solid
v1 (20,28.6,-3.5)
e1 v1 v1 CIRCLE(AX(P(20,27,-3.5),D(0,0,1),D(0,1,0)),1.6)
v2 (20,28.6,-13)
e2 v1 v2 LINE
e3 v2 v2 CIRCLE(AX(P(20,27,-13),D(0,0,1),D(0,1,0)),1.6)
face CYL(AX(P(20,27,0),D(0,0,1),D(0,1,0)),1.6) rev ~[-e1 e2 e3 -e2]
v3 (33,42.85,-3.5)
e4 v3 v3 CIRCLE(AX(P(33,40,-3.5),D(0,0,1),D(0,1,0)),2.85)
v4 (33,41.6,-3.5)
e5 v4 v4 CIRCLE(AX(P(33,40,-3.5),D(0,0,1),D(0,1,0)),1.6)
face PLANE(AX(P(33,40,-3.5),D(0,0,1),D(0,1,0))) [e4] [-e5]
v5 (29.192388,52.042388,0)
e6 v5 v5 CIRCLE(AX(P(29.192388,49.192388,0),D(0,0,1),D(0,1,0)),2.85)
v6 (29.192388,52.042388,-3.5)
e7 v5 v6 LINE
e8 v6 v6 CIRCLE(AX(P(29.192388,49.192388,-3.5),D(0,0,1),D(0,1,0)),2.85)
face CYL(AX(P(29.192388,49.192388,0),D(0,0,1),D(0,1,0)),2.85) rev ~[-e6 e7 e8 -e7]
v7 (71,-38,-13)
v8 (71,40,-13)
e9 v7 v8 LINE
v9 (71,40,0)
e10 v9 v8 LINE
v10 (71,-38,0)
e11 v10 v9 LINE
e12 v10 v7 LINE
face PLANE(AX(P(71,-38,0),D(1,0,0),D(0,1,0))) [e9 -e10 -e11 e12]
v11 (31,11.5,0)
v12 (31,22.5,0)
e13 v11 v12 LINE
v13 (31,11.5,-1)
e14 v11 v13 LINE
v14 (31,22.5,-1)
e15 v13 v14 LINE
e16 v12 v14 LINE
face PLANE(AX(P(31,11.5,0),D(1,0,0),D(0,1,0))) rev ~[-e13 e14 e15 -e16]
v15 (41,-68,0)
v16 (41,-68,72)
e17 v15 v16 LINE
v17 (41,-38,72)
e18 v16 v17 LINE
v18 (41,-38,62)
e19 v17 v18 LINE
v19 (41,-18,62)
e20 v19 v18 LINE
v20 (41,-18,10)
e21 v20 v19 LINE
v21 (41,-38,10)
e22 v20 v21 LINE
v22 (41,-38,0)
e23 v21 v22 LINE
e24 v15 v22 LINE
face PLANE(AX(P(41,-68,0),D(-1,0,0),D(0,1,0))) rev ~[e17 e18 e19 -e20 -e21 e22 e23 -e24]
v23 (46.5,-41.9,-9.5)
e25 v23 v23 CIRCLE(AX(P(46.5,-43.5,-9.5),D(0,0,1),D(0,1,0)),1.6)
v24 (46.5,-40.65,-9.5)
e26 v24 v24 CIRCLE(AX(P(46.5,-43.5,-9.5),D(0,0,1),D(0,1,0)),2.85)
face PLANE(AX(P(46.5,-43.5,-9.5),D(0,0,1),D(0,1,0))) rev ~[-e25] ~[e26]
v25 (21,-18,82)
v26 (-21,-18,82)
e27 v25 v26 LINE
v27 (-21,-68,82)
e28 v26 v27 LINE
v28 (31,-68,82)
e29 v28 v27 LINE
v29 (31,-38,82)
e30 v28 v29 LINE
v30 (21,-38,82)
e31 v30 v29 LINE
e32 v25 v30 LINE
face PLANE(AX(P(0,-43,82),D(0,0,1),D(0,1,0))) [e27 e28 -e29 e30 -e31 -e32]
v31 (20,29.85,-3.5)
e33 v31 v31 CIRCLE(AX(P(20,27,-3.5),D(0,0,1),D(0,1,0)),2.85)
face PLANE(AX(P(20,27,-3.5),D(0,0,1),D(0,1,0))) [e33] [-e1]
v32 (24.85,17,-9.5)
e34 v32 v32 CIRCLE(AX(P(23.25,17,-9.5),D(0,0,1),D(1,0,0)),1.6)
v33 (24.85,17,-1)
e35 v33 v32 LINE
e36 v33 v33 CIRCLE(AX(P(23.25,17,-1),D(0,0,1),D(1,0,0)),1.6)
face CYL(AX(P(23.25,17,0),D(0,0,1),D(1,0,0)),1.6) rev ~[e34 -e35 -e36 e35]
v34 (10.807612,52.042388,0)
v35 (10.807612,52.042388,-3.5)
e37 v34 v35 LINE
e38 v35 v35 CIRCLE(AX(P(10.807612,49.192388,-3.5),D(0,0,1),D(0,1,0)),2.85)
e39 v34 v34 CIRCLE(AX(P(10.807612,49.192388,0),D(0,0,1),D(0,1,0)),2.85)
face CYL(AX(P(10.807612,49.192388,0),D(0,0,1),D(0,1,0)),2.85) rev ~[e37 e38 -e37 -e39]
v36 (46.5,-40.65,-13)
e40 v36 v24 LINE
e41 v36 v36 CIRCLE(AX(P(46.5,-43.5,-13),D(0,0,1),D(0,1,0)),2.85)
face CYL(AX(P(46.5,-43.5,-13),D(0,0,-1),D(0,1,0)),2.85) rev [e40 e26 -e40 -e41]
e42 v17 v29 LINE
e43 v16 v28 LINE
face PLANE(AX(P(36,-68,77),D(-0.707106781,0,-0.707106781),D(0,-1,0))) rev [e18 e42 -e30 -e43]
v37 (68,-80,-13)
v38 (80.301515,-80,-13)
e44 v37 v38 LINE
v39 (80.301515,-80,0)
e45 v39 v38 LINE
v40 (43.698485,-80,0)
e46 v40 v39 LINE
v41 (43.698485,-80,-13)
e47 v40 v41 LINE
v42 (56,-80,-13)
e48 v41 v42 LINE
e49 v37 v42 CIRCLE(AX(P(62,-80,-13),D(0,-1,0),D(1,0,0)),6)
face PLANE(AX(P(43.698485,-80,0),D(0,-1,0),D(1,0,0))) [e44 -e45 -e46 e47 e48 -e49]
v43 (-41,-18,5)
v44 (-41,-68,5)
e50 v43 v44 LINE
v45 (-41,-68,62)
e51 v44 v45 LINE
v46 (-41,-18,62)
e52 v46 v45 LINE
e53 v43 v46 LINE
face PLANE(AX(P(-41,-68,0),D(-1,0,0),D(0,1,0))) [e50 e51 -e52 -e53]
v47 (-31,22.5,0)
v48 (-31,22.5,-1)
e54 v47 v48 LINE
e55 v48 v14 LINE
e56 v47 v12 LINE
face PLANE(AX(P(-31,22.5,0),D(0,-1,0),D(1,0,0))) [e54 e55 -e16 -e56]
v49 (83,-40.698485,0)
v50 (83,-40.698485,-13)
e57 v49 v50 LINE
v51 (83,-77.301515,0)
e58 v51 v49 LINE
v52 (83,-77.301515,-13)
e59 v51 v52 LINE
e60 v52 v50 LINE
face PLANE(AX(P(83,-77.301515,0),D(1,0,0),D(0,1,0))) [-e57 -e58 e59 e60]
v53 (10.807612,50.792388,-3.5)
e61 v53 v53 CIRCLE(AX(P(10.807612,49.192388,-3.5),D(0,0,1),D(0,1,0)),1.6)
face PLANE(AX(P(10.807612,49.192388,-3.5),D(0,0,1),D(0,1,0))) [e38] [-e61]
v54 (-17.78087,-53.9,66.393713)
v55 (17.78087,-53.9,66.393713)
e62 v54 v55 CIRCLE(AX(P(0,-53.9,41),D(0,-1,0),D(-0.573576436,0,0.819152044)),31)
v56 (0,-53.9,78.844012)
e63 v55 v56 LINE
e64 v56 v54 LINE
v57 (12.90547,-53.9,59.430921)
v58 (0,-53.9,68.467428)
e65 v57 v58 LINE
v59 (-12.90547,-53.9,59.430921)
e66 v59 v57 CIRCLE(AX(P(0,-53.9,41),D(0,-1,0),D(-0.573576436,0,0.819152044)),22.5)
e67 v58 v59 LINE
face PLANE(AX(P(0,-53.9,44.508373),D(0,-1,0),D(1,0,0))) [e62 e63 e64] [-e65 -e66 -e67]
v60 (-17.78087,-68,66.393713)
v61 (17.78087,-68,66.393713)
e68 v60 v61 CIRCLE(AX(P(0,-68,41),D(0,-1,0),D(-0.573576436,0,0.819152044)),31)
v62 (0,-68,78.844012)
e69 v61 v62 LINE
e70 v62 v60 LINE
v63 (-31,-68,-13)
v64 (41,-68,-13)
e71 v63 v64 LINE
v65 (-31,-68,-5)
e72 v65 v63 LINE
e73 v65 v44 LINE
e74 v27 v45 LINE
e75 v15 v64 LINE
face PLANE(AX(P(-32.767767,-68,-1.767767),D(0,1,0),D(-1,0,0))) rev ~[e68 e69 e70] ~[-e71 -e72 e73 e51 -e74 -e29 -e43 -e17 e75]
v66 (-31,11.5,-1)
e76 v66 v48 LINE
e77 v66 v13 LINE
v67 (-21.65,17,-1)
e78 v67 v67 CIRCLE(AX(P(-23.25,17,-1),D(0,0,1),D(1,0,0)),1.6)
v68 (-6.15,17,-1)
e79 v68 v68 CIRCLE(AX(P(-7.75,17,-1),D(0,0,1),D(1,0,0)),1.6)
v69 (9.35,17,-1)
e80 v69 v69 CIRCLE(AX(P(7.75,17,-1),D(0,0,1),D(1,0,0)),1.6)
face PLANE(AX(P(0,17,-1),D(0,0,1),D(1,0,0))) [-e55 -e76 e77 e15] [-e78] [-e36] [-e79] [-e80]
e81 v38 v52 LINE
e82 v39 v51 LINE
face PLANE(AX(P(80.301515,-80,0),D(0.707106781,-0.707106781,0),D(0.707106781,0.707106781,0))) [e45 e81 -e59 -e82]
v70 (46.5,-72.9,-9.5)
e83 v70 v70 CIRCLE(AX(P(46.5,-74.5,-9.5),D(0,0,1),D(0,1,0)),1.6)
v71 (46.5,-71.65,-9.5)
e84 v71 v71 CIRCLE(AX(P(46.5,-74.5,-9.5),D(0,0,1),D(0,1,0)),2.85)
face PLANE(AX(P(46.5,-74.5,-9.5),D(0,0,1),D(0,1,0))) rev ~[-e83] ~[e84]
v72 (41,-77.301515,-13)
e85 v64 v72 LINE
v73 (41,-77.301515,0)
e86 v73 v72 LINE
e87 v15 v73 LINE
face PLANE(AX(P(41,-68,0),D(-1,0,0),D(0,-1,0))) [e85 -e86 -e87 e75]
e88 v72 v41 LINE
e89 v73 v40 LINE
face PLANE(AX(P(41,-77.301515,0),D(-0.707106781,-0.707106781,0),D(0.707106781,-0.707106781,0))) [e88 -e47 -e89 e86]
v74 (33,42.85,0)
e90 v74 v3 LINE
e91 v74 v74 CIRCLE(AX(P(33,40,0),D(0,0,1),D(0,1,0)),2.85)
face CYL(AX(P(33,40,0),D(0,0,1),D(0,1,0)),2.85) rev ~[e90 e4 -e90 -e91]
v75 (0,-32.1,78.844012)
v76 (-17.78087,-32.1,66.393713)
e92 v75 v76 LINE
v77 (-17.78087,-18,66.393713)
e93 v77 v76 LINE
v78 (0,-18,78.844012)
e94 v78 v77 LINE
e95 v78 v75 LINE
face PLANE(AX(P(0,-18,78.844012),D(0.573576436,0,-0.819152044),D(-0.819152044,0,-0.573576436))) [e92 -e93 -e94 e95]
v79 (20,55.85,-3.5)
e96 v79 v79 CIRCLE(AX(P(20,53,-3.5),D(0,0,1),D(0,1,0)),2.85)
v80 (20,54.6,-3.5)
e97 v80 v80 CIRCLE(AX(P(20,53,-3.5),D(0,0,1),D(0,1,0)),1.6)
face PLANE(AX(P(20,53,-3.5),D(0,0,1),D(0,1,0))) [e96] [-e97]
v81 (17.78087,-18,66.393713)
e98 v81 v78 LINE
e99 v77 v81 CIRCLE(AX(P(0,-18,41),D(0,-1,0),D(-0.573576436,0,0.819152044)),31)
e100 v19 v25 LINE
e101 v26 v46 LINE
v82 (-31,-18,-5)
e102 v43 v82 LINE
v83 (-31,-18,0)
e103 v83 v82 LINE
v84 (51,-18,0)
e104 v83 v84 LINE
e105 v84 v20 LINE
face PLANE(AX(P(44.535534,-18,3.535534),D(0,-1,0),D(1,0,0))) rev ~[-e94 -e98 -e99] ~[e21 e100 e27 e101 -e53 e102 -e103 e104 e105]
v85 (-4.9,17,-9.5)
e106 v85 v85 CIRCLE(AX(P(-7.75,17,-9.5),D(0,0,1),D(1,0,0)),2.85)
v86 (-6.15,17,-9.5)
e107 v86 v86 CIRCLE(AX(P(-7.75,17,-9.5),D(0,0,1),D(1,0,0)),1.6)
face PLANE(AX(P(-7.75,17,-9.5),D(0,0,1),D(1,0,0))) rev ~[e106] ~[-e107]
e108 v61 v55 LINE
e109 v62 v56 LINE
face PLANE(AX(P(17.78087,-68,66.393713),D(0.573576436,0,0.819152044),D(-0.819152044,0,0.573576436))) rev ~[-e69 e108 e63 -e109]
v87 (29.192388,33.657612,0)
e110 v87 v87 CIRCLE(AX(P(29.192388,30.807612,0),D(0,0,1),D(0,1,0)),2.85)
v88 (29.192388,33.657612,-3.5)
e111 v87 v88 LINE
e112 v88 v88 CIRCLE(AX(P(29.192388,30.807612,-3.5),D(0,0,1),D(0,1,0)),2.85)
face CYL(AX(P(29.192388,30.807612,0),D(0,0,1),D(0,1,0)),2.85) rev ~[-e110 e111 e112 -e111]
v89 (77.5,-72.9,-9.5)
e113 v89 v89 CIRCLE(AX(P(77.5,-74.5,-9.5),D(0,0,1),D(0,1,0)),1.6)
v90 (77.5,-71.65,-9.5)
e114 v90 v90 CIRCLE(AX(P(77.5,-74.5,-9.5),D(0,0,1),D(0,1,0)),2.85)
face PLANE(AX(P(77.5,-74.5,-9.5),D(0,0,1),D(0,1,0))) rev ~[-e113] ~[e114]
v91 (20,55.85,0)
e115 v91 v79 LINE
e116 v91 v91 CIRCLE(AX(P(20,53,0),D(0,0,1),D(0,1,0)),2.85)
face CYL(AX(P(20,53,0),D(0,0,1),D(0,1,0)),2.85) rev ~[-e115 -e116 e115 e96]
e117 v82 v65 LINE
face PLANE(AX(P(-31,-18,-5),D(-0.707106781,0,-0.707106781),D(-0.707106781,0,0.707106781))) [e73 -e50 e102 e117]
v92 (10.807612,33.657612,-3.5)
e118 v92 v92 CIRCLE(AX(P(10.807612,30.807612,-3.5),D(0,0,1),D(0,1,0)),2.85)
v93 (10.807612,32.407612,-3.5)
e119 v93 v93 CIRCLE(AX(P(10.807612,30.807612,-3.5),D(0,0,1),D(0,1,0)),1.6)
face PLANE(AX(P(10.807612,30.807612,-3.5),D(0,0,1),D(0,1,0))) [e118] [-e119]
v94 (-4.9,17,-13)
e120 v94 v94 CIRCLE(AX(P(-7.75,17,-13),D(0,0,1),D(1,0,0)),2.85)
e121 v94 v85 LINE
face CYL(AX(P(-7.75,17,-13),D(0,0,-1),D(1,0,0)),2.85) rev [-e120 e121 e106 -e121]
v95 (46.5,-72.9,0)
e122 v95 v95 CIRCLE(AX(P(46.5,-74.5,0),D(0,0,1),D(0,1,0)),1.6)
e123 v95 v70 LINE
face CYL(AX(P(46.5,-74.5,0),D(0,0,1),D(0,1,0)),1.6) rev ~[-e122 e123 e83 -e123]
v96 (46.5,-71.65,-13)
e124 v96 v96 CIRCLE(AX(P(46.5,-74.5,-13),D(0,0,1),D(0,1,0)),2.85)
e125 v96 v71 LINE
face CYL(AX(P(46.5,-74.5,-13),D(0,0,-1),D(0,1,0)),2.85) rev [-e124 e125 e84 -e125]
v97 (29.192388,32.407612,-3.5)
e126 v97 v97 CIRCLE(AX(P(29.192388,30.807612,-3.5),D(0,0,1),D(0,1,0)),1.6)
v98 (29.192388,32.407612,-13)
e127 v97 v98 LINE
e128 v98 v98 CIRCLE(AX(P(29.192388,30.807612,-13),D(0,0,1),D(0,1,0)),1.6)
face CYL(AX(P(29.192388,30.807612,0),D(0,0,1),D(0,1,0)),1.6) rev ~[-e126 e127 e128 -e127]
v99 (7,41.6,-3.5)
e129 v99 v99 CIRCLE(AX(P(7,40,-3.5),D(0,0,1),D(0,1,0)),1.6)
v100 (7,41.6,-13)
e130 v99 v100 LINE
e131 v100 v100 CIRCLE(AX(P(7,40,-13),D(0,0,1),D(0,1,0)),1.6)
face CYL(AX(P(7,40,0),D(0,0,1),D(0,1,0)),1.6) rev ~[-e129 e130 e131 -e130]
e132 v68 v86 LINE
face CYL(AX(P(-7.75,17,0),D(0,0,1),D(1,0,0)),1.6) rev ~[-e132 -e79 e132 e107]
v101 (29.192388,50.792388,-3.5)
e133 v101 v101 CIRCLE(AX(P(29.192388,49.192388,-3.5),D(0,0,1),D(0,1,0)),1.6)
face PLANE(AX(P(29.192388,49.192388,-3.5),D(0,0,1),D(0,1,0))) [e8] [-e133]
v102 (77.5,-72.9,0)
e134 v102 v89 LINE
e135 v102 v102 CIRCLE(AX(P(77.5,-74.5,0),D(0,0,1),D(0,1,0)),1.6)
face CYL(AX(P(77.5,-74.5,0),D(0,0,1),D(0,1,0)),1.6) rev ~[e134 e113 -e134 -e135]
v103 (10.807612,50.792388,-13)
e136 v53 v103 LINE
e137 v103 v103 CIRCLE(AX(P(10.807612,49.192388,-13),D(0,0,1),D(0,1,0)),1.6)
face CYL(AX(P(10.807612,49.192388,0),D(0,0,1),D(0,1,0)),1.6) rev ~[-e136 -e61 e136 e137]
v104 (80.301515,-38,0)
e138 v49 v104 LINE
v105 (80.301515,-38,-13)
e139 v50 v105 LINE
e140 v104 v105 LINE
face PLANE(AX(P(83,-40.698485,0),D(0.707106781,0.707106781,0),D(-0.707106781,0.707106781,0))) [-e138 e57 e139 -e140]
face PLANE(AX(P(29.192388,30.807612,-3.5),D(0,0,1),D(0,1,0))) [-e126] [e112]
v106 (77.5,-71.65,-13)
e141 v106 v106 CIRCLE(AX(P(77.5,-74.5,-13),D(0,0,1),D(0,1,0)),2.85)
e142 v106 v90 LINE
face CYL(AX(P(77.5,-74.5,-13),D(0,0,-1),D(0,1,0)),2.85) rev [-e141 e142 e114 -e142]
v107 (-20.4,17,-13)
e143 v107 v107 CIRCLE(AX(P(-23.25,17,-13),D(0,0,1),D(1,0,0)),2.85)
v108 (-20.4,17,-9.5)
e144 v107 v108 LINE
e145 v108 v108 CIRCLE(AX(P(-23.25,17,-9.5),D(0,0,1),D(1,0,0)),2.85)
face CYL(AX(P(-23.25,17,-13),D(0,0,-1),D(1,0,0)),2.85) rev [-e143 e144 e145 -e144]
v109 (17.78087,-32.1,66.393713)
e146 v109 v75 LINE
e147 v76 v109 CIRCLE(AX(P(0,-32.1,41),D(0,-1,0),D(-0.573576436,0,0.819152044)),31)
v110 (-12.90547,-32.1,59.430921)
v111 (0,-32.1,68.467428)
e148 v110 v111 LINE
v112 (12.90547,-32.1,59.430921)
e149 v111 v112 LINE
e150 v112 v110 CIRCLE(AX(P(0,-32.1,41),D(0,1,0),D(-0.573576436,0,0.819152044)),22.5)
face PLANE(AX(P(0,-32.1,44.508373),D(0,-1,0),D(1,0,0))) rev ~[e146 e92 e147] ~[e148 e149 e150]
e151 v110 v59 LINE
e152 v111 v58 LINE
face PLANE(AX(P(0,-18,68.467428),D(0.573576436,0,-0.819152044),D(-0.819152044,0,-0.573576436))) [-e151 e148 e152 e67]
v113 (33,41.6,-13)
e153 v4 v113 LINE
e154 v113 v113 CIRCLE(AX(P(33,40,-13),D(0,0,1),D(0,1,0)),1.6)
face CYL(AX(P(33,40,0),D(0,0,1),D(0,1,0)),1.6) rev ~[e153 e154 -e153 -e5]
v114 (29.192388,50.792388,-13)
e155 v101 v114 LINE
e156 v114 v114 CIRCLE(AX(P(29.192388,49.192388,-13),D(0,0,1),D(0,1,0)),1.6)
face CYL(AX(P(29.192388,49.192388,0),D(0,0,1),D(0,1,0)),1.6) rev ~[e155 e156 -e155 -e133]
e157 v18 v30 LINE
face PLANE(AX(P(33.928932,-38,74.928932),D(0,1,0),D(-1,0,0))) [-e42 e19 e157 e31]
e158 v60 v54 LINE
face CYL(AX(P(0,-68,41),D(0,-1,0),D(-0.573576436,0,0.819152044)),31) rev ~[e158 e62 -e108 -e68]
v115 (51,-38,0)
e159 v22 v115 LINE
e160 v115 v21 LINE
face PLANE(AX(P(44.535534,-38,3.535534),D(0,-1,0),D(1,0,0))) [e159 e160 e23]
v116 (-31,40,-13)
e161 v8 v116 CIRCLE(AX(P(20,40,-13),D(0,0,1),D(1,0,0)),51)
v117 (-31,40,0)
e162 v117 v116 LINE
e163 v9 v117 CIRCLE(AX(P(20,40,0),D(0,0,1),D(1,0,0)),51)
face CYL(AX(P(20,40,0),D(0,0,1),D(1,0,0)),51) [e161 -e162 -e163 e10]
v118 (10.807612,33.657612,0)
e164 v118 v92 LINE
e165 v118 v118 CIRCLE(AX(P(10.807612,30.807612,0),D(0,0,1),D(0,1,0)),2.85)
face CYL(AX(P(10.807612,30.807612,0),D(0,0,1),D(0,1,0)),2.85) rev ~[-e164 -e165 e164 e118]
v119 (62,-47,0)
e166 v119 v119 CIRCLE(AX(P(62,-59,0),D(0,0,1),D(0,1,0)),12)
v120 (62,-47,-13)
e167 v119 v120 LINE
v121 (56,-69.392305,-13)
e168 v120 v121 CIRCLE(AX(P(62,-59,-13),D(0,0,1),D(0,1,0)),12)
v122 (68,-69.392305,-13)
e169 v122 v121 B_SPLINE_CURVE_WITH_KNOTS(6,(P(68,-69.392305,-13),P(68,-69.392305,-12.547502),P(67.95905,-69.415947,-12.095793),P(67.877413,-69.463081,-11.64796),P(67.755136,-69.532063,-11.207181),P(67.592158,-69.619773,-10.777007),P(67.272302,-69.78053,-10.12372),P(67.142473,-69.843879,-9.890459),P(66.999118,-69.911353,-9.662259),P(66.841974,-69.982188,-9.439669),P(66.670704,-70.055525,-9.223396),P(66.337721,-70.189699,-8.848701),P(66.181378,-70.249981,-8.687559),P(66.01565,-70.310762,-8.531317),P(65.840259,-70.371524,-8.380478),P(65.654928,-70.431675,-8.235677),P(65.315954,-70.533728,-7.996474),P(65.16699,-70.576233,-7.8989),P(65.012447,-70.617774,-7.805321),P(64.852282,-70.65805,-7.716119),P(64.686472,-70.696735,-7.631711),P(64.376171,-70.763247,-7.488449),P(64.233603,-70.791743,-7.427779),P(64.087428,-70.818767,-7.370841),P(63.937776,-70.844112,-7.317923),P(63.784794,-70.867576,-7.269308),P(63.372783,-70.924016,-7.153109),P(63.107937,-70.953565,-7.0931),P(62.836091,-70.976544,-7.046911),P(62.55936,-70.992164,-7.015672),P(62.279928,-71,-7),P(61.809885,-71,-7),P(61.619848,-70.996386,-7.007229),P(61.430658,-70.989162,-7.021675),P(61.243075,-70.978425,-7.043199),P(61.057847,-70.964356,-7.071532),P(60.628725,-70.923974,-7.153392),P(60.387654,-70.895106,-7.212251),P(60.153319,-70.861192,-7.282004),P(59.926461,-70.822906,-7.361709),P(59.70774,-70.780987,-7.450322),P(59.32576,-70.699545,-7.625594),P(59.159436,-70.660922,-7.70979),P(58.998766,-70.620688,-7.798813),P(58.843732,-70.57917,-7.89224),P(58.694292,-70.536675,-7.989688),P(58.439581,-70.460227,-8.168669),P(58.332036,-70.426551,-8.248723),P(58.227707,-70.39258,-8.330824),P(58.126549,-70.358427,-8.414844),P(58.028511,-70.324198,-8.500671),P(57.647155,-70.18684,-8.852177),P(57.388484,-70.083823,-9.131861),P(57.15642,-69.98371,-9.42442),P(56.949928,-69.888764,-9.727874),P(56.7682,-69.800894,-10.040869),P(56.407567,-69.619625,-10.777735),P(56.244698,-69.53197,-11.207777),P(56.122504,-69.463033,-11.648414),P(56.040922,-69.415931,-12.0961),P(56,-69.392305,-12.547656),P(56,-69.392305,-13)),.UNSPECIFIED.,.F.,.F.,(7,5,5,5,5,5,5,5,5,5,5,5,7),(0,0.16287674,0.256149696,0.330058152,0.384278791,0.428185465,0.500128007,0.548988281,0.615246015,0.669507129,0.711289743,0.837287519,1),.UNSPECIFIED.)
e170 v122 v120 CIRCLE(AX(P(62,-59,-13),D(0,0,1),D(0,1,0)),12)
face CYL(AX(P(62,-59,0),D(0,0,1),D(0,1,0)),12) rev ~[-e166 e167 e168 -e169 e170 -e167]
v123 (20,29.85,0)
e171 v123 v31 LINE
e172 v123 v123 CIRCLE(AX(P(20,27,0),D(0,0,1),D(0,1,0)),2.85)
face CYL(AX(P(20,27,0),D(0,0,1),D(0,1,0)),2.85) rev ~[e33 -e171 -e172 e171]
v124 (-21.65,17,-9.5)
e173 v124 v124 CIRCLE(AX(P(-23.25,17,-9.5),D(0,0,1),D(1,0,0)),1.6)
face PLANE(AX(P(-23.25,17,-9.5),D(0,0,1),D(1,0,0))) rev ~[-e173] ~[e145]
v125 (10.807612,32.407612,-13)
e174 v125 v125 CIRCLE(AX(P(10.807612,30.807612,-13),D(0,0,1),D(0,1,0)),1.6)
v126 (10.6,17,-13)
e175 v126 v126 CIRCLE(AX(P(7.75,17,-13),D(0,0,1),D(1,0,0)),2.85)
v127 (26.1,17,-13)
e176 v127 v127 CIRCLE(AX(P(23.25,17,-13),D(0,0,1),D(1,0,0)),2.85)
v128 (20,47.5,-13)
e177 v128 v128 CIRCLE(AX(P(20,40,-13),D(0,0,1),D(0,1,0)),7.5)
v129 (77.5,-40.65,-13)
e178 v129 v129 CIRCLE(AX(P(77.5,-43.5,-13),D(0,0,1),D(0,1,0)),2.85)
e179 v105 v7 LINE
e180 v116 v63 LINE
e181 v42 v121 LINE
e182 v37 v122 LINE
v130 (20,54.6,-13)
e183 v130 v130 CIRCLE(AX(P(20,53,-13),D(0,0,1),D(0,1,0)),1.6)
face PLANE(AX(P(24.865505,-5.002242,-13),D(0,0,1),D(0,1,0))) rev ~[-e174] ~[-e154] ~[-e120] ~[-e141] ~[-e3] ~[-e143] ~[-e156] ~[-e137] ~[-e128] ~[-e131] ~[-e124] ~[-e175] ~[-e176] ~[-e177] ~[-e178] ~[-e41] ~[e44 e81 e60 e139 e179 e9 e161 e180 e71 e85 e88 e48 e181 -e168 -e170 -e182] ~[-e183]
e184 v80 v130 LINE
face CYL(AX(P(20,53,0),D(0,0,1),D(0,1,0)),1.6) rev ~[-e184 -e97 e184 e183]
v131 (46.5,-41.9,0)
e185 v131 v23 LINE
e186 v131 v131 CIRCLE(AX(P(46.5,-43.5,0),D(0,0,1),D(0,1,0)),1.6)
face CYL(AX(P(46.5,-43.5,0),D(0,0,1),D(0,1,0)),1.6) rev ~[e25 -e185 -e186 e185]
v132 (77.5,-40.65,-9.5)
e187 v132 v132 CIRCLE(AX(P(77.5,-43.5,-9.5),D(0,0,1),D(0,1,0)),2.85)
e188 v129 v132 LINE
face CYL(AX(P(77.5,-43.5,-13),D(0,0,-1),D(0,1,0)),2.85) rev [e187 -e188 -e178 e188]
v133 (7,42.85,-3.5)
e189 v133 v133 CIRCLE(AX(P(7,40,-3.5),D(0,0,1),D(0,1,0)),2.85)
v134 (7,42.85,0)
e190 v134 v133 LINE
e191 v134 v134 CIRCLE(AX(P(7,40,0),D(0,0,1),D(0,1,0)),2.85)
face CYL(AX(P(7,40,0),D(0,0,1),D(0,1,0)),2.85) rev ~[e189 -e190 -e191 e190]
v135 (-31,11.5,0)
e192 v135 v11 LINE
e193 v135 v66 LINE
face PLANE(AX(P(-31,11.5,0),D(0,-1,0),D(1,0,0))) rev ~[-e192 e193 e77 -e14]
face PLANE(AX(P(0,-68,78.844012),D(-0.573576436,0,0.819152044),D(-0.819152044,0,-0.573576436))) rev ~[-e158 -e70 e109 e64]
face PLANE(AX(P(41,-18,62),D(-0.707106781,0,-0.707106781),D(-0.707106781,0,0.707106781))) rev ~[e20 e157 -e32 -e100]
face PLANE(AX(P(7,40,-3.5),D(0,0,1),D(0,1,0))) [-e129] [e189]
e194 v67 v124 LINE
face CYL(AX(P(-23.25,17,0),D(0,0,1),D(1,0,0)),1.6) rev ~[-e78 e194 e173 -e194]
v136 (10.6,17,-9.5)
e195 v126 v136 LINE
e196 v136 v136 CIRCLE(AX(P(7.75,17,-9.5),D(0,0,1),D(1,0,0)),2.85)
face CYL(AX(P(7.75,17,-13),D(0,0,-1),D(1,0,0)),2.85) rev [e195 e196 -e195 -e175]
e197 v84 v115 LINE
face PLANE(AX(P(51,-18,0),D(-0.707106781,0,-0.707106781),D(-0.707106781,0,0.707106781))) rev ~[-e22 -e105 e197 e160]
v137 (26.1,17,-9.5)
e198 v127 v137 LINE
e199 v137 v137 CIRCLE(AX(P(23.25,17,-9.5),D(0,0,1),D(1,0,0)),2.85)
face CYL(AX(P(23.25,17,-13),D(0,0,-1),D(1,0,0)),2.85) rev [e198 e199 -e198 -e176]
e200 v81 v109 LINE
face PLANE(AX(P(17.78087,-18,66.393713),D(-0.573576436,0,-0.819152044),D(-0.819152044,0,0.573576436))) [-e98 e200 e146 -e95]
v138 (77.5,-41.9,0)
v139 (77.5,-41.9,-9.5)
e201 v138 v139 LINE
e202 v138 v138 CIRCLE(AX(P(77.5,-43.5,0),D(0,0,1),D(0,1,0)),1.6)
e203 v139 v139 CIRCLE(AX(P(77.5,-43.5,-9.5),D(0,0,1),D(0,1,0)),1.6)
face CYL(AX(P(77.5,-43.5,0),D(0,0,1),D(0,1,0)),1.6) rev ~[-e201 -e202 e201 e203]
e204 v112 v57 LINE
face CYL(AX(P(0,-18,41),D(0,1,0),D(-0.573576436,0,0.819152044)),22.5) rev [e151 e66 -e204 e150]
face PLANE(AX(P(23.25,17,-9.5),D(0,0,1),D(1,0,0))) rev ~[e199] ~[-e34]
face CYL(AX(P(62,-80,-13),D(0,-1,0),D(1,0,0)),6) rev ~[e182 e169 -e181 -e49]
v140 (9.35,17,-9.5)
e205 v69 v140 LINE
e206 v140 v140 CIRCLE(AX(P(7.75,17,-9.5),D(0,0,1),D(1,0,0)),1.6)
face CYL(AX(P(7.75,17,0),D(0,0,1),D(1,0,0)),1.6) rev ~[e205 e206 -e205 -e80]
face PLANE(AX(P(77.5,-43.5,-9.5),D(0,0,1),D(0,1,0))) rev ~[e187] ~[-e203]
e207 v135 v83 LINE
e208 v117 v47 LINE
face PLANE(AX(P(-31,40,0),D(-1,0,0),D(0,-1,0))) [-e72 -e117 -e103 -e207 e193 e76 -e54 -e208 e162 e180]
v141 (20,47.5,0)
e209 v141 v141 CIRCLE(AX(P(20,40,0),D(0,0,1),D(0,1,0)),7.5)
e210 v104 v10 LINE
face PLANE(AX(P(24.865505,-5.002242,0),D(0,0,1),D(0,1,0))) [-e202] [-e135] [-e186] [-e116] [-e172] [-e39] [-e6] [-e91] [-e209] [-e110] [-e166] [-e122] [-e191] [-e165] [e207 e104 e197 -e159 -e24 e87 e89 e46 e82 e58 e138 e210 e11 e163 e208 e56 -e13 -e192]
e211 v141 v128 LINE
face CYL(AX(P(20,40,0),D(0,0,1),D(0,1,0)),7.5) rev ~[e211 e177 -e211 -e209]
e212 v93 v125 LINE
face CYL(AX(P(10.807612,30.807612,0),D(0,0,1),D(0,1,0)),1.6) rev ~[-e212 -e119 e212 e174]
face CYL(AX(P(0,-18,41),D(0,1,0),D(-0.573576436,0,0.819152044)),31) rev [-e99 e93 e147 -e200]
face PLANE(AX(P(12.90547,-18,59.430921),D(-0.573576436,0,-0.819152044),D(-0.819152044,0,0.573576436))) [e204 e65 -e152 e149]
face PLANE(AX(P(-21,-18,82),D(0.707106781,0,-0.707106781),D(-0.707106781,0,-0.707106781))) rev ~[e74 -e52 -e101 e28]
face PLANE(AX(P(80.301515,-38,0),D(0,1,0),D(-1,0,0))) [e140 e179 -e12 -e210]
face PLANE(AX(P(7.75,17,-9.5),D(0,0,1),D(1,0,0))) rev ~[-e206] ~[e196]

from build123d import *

# Parameters (mm, degrees)
SKETCH1_R               = 12
SKETCH1_R_2             = 7.5
SKETCH1_R_3             = 1.6
BOSS_EXTRUDE2_DEPTH     = 13
SKETCH1_6_W             = 50
SKETCH1_6_H             = 82
BOSS_EXTRUDE3_DEPTH     = 82
SKETCH1_5_R             = 2.85
CUT_EXTRUDE2_DEPTH      = 3.5
CUT_EXTRUDE3_DEPTH      = 14.1
CUT_EXTRUDE4_START      = -50
CUT_EXTRUDE4_DEPTH      = 14.1
CUT_EXTRUDE5_DEPTH      = 110
CUT_EXTRUDE5_DEPTH_BACK = 63
SKETCH3_W               = 62
SKETCH3_H               = 11
CUT_EXTRUDE6_DEPTH      = 1
SKETCH3_3_R             = 1.6
CUT_EXTRUDE7_DEPTH      = 14
CUT_EXTRUDE8_START      = -13
SKETCH3_5_R             = 2.85
CUT_EXTRUDE8_DEPTH      = 3.5
CUT_EXTRUDE9_START      = -13
SKETCH1_7_R             = 2.85
CUT_EXTRUDE9_DEPTH      = 3.5
CUT_EXTRUDE10_DEPTH     = 12.5
BOSS_EXTRUDE4_DEPTH     = 50
CUT_EXTRUDE11_DEPTH     = 50.5
BOSS_EXTRUDE5_DEPTH     = 20
CUT_EXTRUDE12_DEPTH     = 20
CHAMFER6_SIZE           = 10


with BuildPart() as part:
    # Sketch1 → Boss-Extrude2 (new body)
    with BuildSketch(Plane(origin=(0, 0, 0), x_dir=(0, 1, 0), z_dir=(0, 0, 1))):
        with BuildLine():
            Line((-68, -41), (-77.30151519, -41))
            Line((-77.30151519, -41), (-80, -43.69848481))
            Line((-80, -43.69848481), (-80, -80.30151519))
            Line((-80, -80.30151519), (-77.30151519, -83))
            Line((-77.30151519, -83), (-40.69848481, -83))
            Line((-40.69848481, -83), (-38, -80.30151519))
            Line((-38, -80.30151519), (-38, -71))
            Line((-38, -71), (40, -71))
            ThreePointArc((40, -71), (91, -20), (40, 31))
            Line((40, 31), (-68, 31))
            Line((-68, 31), (-68, -41))
        make_face()
        with Locations((-59, -62)):
            Circle(SKETCH1_R, mode=Mode.SUBTRACT)
        with Locations((40, -20)):
            Circle(SKETCH1_R_2, mode=Mode.SUBTRACT)
        with Locations((40, -7)):
            Circle(SKETCH1_R_3, mode=Mode.SUBTRACT)
        with Locations((49.192388155, -10.807611845)):
            Circle(SKETCH1_R_3, mode=Mode.SUBTRACT)
        with Locations((53, -20)):
            Circle(SKETCH1_R_3, mode=Mode.SUBTRACT)
        with Locations((49.192388155, -29.192388155)):
            Circle(SKETCH1_R_3, mode=Mode.SUBTRACT)
        with Locations((40, -33)):
            Circle(SKETCH1_R_3, mode=Mode.SUBTRACT)
        with Locations((30.807611845, -29.192388155)):
            Circle(SKETCH1_R_3, mode=Mode.SUBTRACT)
        with Locations((27, -20)):
            Circle(SKETCH1_R_3, mode=Mode.SUBTRACT)
        with Locations((30.807611845, -10.807611845)):
            Circle(SKETCH1_R_3, mode=Mode.SUBTRACT)
        with Locations((-74.5, -46.5)):
            Circle(SKETCH1_R_3, mode=Mode.SUBTRACT)
        with Locations((-43.5, -46.5)):
            Circle(SKETCH1_R_3, mode=Mode.SUBTRACT)
        with Locations((-43.5, -77.5)):
            Circle(SKETCH1_R_3, mode=Mode.SUBTRACT)
        with Locations((-74.5, -77.5)):
            Circle(SKETCH1_R_3, mode=Mode.SUBTRACT)
    extrude(amount=-BOSS_EXTRUDE2_DEPTH)

    # Sketch1<6> → Boss-Extrude3 (add)
    with BuildSketch(Plane(origin=(0, 0, 0), x_dir=(0, 1, 0), z_dir=(0, 0, 1))):
        with Locations((-43, 0)):
            Rectangle(SKETCH1_6_W, SKETCH1_6_H)
    extrude(amount=BOSS_EXTRUDE3_DEPTH)

    # Sketch1<5> → Cut-Extrude2 (cut)
    with BuildSketch(Plane(origin=(0, 0, 0), x_dir=(0, 1, 0), z_dir=(0, 0, 1))):
        with Locations((40, -7)):
            Circle(SKETCH1_5_R)
        with Locations((49.192388155, -10.807611845)):
            Circle(SKETCH1_5_R)
        with Locations((53, -20)):
            Circle(SKETCH1_5_R)
        with Locations((49.192388155, -29.192388155)):
            Circle(SKETCH1_5_R)
        with Locations((40, -33)):
            Circle(SKETCH1_5_R)
        with Locations((30.807611845, -29.192388155)):
            Circle(SKETCH1_5_R)
        with Locations((27, -20)):
            Circle(SKETCH1_5_R)
        with Locations((30.807611845, -10.807611845)):
            Circle(SKETCH1_5_R)
    extrude(amount=-CUT_EXTRUDE2_DEPTH, mode=Mode.SUBTRACT)

    # Sketch2 → Cut-Extrude3 (cut)
    with BuildSketch(Plane(origin=(0, -18, 0), x_dir=(-1, 0, 0), z_dir=(0, 1, 0))):
        with BuildLine():
            Line((-17.780869527, 66.393713373), (0, 78.844012252))
            Line((0, 78.844012252), (17.780869527, 66.393713373))
            ThreePointArc((17.780869527, 66.393713373), (0, 10), (-17.780869527, 66.393713373))
        make_face()
    extrude(amount=-CUT_EXTRUDE3_DEPTH, mode=Mode.SUBTRACT)

    # Sketch2<3> → Cut-Extrude4 (cut)
    with BuildSketch(Plane(origin=(0, -18, 0), x_dir=(-1, 0, 0), z_dir=(0, 1, 0)).offset(CUT_EXTRUDE4_START)):
        with BuildLine():
            Line((-17.780869527, 66.393713373), (0, 78.844012252))
            Line((0, 78.844012252), (17.780869527, 66.393713373))
            ThreePointArc((17.780869527, 66.393713373), (0, 10), (-17.780869527, 66.393713373))
        make_face()
        with BuildLine():
            Line((-12.905469818, 59.430920997), (0, 68.467428247))
            Line((0, 68.467428247), (12.905469818, 59.430920997))
            ThreePointArc((12.905469818, 59.430920997), (0, 18.5), (-12.905469818, 59.430920997))
        make_face(mode=Mode.SUBTRACT)
    extrude(amount=CUT_EXTRUDE4_DEPTH, mode=Mode.SUBTRACT)

    # Sketch2<4> → Cut-Extrude5 (cut, two sides)
    with BuildSketch(Plane(origin=(0, -18, 0), x_dir=(-1, 0, 0), z_dir=(0, 1, 0))) as cut_extrude5_sk:
        with BuildLine():
            Line((-12.905469818, 59.430920997), (0, 68.467428247))
            Line((0, 68.467428247), (12.905469818, 59.430920997))
            ThreePointArc((12.905469818, 59.430920997), (0, 18.5), (-12.905469818, 59.430920997))
        make_face()
    extrude(amount=CUT_EXTRUDE5_DEPTH, mode=Mode.SUBTRACT)
    extrude(cut_extrude5_sk.sketch, amount=-CUT_EXTRUDE5_DEPTH_BACK, mode=Mode.SUBTRACT)

    # Sketch3 → Cut-Extrude6 (cut)
    with BuildSketch(Plane.XY):
        with Locations((0, 17)):
            Rectangle(SKETCH3_W, SKETCH3_H)
    extrude(amount=-CUT_EXTRUDE6_DEPTH, mode=Mode.SUBTRACT)

    # Sketch3<3> → Cut-Extrude7 (cut, through all)
    with BuildSketch(Plane.XY):
        with Locations((-23.25, 17)):
            Circle(SKETCH3_3_R)
        with Locations((-7.75, 17)):
            Circle(SKETCH3_3_R)
        with Locations((7.75, 17)):
            Circle(SKETCH3_3_R)
        with Locations((23.25, 17)):
            Circle(SKETCH3_3_R)
    extrude(amount=-CUT_EXTRUDE7_DEPTH, mode=Mode.SUBTRACT)

    # Sketch3<5> → Cut-Extrude8 (cut)
    with BuildSketch(Plane.XY.offset(CUT_EXTRUDE8_START)):
        with Locations((-23.25, 17)):
            Circle(SKETCH3_5_R)
        with Locations((-7.75, 17)):
            Circle(SKETCH3_5_R)
        with Locations((7.75, 17)):
            Circle(SKETCH3_5_R)
        with Locations((23.25, 17)):
            Circle(SKETCH3_5_R)
    extrude(amount=CUT_EXTRUDE8_DEPTH, mode=Mode.SUBTRACT)

    # Sketch1<7> → Cut-Extrude9 (cut)
    with BuildSketch(Plane(origin=(0, 0, 0), x_dir=(0, 1, 0), z_dir=(0, 0, 1)).offset(CUT_EXTRUDE9_START)):
        with Locations((-74.5, -46.5)):
            Circle(SKETCH1_7_R)
        with Locations((-43.5, -46.5)):
            Circle(SKETCH1_7_R)
        with Locations((-43.5, -77.5)):
            Circle(SKETCH1_7_R)
        with Locations((-74.5, -77.5)):
            Circle(SKETCH1_7_R)
    extrude(amount=CUT_EXTRUDE9_DEPTH, mode=Mode.SUBTRACT)

    # Sketch4 → Cut-Extrude10 (cut)
    with BuildSketch(Plane.XZ.offset(80)):
        with BuildLine():
            Line((56, -13), (68, -13))
            ThreePointArc((68, -13), (62, -7), (56, -13))
        make_face()
    extrude(amount=-CUT_EXTRUDE10_DEPTH, mode=Mode.SUBTRACT)

    # Sketch5 → Boss-Extrude4 (add)
    with BuildSketch(Plane(origin=(0, -18, 0), x_dir=(-1, 0, 0), z_dir=(0, 1, 0))):
        Polygon((36, 0), (31, 0), (31, -5), align=None)
    extrude(amount=-BOSS_EXTRUDE4_DEPTH)

    # Sketch5<3> → Cut-Extrude11 (cut)
    with BuildSketch(Plane(origin=(0, -18, 0), x_dir=(-1, 0, 0), z_dir=(0, 1, 0))):
        Polygon((21, 82), (41, 62), (41, 82), align=None)
        Polygon((41, 5), (36, 0), (41, 0), align=None)
    extrude(amount=-CUT_EXTRUDE11_DEPTH, mode=Mode.SUBTRACT)

    # Sketch5<4> → Boss-Extrude5 (add)
    with BuildSketch(Plane(origin=(0, -18, 0), x_dir=(-1, 0, 0), z_dir=(0, 1, 0))):
        Polygon((-51, 0), (-41, 10), (-41, 0), align=None)
    extrude(amount=-BOSS_EXTRUDE5_DEPTH)

    # Sketch5<5> → Cut-Extrude12 (cut)
    with BuildSketch(Plane(origin=(0, -18, 0), x_dir=(-1, 0, 0), z_dir=(0, 1, 0))):
        Polygon((-41, 62), (-21, 82), (-41, 82), align=None)
    extrude(amount=-CUT_EXTRUDE12_DEPTH, mode=Mode.SUBTRACT)

    # Chamfer6
    chamfer6_edges = [part.edges().sort_by_distance(p)[0] for p in [
        (41, -53, 82),
    ]]
    chamfer(chamfer6_edges, length=CHAMFER6_SIZE)


solid = part.part
